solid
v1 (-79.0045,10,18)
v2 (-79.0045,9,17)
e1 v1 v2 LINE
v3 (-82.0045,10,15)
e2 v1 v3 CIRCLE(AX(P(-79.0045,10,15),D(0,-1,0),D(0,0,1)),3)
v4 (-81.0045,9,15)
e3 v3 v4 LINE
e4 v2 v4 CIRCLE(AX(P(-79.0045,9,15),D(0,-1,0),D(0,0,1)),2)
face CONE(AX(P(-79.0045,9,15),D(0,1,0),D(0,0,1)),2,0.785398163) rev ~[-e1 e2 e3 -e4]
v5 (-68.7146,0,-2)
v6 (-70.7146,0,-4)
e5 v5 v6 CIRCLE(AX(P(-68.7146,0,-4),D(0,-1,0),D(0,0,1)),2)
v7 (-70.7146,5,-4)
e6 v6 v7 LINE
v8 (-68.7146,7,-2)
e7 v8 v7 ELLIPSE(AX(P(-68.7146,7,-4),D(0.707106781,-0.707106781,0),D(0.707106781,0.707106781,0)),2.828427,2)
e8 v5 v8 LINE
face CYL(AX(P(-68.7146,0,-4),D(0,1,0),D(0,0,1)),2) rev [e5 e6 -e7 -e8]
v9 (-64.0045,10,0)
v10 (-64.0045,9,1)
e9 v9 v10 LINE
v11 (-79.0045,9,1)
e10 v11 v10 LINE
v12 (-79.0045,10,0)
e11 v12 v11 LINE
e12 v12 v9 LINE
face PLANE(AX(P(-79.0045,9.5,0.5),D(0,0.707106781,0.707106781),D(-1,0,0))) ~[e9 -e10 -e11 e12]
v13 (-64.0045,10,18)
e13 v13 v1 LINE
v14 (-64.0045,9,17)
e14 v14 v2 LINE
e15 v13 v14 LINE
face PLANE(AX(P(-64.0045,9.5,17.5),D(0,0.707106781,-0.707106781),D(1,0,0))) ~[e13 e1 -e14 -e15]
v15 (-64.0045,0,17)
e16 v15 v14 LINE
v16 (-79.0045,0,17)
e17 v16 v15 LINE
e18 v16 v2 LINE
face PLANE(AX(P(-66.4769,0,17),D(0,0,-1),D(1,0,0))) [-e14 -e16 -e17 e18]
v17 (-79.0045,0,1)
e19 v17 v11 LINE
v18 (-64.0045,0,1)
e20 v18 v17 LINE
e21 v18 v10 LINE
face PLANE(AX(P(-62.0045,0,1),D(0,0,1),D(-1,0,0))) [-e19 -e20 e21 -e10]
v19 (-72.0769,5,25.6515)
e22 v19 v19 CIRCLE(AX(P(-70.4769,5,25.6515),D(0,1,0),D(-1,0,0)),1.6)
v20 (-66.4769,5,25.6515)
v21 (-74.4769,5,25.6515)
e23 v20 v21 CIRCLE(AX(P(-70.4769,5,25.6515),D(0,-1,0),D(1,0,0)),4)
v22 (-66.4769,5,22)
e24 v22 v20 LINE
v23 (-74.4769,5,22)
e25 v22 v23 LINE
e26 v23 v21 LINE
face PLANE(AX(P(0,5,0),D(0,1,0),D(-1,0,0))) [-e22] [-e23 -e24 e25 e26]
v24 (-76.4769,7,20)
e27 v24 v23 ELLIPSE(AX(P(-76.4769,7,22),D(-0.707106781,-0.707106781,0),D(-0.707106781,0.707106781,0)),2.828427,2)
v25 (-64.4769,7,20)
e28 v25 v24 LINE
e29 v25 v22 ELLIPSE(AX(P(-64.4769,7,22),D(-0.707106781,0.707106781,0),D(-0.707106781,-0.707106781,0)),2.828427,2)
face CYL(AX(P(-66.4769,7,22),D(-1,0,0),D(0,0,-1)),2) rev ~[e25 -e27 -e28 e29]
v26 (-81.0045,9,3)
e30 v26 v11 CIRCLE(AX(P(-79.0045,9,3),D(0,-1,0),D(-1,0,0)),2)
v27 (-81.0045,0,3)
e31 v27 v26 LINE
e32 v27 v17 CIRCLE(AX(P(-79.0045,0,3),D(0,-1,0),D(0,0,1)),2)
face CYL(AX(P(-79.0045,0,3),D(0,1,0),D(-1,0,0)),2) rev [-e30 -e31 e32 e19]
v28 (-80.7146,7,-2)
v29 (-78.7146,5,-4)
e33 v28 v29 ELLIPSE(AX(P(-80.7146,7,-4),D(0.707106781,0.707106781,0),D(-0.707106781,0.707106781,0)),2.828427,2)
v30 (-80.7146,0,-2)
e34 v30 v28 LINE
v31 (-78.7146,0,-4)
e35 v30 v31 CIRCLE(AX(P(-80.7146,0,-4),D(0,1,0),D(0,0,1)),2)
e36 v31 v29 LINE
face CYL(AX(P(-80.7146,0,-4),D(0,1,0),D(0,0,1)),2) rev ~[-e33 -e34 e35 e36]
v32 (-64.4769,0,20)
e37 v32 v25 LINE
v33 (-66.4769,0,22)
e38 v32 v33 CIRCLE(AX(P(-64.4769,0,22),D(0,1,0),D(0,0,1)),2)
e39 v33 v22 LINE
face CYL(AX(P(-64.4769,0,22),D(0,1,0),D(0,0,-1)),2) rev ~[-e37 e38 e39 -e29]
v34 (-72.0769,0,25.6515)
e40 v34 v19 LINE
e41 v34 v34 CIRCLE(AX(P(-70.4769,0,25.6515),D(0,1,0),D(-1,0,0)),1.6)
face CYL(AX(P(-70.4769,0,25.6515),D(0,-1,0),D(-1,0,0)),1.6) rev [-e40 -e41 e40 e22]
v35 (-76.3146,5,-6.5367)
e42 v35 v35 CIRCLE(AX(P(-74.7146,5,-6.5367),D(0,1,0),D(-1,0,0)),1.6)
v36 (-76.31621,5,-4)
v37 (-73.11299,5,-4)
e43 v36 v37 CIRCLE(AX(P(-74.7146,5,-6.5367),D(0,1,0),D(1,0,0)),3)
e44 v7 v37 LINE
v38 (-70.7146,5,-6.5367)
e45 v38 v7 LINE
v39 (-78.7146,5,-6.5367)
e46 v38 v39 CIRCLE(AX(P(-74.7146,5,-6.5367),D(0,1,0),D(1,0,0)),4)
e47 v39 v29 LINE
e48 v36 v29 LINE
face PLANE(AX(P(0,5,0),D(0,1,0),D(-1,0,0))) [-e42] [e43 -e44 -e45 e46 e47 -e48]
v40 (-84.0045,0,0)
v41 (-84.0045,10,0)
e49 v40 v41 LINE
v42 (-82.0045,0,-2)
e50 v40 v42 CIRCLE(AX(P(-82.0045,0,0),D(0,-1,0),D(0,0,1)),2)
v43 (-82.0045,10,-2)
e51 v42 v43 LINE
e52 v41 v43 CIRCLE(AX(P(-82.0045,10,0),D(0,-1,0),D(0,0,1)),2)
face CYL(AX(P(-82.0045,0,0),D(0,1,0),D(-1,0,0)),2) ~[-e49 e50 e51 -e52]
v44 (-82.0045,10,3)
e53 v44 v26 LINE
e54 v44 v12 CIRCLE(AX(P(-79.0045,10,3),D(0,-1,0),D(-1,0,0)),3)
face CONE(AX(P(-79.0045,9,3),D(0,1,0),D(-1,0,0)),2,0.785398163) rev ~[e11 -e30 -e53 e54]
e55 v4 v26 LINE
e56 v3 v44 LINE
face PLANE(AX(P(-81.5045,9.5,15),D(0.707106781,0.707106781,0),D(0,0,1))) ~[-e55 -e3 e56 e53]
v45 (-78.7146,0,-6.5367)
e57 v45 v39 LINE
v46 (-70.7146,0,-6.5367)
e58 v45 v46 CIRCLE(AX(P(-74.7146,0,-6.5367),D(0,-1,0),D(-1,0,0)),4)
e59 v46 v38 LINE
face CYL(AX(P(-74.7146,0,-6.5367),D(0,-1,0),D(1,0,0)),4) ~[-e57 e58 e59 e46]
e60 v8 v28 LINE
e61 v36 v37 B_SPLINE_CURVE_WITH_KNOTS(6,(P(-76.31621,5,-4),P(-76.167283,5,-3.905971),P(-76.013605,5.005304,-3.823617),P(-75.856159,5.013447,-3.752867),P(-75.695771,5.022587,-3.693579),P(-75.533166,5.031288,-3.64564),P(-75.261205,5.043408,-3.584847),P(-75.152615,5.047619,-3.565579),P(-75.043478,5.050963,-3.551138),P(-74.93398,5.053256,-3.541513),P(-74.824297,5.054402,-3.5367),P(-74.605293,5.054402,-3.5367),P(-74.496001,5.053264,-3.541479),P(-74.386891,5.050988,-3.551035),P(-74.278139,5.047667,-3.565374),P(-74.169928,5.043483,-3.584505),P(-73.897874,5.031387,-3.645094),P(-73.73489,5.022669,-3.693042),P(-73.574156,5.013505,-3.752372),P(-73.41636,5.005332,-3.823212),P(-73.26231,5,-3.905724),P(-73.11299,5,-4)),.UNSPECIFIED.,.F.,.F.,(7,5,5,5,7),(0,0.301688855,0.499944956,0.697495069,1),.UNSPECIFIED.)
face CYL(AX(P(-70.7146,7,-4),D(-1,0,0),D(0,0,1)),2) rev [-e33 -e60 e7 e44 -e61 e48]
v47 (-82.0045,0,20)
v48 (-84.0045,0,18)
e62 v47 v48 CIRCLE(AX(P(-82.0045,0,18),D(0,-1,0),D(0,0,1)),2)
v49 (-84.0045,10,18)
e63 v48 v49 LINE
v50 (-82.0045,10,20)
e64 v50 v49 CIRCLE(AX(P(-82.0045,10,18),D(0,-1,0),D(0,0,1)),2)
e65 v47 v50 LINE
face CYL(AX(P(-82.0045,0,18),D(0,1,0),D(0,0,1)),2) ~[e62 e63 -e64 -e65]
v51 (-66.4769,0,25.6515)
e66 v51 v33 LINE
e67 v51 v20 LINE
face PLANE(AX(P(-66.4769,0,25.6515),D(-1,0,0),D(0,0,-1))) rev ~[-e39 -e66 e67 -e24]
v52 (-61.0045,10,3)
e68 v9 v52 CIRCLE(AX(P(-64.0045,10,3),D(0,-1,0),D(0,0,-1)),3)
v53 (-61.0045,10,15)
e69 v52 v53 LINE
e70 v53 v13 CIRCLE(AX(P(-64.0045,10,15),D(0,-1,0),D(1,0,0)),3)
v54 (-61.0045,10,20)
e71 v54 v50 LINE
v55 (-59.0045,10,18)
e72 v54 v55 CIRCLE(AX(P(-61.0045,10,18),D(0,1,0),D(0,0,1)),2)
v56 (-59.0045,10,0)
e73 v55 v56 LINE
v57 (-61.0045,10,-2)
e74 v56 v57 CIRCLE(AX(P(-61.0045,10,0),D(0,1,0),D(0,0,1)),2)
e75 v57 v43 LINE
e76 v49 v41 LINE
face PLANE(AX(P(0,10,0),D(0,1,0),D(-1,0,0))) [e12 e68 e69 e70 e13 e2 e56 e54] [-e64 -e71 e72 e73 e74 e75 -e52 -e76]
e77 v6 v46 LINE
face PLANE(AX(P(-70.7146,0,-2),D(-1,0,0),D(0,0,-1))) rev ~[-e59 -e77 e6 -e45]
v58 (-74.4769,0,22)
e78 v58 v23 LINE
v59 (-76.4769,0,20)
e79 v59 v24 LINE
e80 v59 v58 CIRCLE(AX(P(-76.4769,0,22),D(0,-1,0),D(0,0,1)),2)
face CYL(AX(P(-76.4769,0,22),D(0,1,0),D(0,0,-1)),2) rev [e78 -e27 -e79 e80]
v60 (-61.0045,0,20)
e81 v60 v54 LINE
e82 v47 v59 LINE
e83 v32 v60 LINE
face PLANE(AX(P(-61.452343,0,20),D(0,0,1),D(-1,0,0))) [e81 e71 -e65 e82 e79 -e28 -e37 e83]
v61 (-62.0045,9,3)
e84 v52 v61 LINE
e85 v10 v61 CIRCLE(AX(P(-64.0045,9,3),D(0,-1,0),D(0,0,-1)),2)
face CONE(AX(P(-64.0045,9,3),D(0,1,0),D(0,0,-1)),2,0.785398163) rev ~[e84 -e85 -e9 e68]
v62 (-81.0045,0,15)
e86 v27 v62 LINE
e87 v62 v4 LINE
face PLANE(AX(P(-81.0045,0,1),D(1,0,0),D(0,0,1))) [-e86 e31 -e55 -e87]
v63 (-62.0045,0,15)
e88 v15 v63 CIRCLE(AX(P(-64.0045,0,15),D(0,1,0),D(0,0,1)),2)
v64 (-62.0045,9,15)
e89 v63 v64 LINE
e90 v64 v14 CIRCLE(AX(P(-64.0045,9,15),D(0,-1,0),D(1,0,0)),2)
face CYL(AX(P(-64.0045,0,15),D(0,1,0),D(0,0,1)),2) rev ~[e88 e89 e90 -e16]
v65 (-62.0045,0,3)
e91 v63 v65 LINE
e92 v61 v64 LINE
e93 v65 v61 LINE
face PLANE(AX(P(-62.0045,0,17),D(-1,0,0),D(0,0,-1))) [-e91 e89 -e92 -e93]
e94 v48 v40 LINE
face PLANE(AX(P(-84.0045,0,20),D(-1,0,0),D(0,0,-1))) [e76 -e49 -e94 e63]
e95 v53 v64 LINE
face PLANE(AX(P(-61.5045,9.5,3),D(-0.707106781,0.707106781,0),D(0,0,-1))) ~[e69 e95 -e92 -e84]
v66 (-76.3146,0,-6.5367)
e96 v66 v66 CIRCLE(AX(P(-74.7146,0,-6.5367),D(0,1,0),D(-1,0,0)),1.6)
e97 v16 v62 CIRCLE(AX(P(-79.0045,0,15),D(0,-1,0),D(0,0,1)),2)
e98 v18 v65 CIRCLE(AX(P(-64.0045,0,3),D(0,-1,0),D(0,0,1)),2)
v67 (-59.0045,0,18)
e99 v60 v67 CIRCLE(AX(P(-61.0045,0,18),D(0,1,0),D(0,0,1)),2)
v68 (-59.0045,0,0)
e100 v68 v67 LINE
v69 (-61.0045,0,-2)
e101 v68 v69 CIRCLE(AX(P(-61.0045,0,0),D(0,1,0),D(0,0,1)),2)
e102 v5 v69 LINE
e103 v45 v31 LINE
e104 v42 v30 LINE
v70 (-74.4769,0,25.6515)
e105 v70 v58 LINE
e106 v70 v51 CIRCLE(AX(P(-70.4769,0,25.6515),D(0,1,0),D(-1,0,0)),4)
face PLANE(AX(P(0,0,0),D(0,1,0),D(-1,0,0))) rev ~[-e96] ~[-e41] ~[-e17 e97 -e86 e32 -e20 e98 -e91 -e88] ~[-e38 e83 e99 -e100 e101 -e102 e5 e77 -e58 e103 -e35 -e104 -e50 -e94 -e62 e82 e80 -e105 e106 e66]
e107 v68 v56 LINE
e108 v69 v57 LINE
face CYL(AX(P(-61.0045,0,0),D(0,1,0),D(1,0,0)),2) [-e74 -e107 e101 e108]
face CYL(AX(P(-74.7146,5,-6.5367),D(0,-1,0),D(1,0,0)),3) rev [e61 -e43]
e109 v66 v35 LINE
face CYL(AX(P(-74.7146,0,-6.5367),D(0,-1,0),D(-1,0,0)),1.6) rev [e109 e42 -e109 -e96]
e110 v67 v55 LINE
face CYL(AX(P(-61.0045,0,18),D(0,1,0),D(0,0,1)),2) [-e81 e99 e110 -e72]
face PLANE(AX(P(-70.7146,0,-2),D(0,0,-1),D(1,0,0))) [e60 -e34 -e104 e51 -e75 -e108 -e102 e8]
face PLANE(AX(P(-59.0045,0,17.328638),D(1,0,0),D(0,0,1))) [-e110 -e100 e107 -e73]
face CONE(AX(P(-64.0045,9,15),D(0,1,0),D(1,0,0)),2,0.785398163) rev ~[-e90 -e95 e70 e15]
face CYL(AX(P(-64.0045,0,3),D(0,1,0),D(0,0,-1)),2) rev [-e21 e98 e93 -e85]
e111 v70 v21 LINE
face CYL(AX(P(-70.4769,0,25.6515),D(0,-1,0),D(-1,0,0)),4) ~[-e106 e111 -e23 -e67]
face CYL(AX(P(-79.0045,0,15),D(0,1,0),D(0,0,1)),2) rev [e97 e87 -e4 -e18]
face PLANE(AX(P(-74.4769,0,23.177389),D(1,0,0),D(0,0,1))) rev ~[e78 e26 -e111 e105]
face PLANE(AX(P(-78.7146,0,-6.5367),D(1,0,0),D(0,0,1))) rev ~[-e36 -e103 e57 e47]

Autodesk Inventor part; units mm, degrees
ref_plane "YZ Plane" through (0, 0, 0) normal (1, 0, 0) x (0, 1, 0)
ref_plane "XZ Plane" through (0, 0, 0) normal (0, 1, 0) x (-1, 0, 0)
ref_plane "XY Plane" through (0, 0, 0) normal (0, 0, 1) x (1, 0, 0)
sketch "Skizze1" plane through (0, 0, 0) normal (0, 1, 0) x (-1, 0, 0)
  line L0 (19.0016, 59.2215) -> (57.3401, 24.0908)
  arc A0 (57.3401, 24.0908) -> (69.3003, 22.9246) centre (64.096, 31.4636) ccw
  arc A1 (75.2406, 20.5635) -> (69.3003, 22.9246) centre (71.3821, 19.509) ccw
  arc A2 (77.999, -0.3892) -> (75.2406, 20.5635) centre (0, 0) ccw
  arc A3 (72.8723, -4.2072) -> (77.999, -0.3892) centre (73.9991, -0.3692) ccw
  arc A4 (72.8723, -4.2072) -> (61.6214, -8.4293) centre (70.0553, -13.8022) ccw
  line L1 (61.6214, -8.4293) -> (37.5911, -46.1492)
  arc A5 (34.2176, -48) -> (37.5911, -46.1492) centre (34.2176, -44) ccw
  line L2 (34.2176, -48) -> (29, -48)
  arc A6 (29, -48) -> (25.0078, -51.75) centre (29, -52) ccw
  arc A7 (21.0156, -55.5) -> (25.0078, -51.75) centre (21.0156, -51.5) ccw
  line L3 (21.0156, -55.5) -> (-21.0156, -55.5)
  circle A8 centre (36.75, -68) radius 1.8
  circle A9 centre (36.75, -61) radius 1.8
  circle A10 centre (36.75, -54) radius 1.8
  line L4 (30.1812, 62.5407) -> (59.6723, 35.5171)
  arc A11 (59.6723, 35.5171) -> (68.1495, 35.8873) centre (63.7258, 39.9408) ccw
  line L5 (68.1495, 35.8873) -> (74.1043, 42.3858)
  arc A12 (77.3365, 41.9889) -> (74.1043, 42.3858) centre (75.5788, 41.0346) ccw
  arc A13 (85.5688, -20.542) -> (77.3365, 41.9889) centre (0, 0) ccw
  arc A14 (82.5495, -21.7619) -> (85.5688, -20.542) centre (83.6241, -20.0751) ccw
  line L6 (82.5495, -21.7619) -> (75.1157, -17.026)
  arc A15 (75.1157, -17.026) -> (66.8315, -18.8626) centre (71.8919, -22.0864) ccw
  line L7 (66.8315, -18.8626) -> (45.3395, -52.5983)
  arc A16 (45.3395, -52.5983) -> (47.1761, -60.8824) centre (50.3999, -55.8221) ccw
  line L8 (47.1761, -60.8824) -> (54.6099, -65.6183)
  arc A17 (54.7803, -68.8703) -> (54.6099, -65.6183) centre (53.5353, -67.3051) ccw
  arc A18 (44.8368, -75.7209) -> (54.7803, -68.8703) centre (0, 0) ccw
  arc A19 (43.8178, -76) -> (44.8368, -75.7209) centre (43.8178, -74) ccw
  line L9 (43.8178, -76) -> (35.75, -76)
  arc A20 (33.75, -74) -> (35.75, -76) centre (35.75, -74) ccw
  line L10 (33.75, -74) -> (33.75, -64)
  arc A21 (33.75, -64) -> (30.0179, -63) centre (31.75, -64) ccw
  arc A22 (28.2859, -64) -> (30.0179, -63) centre (28.2859, -62) ccw
  line L11 (28.2859, -64) -> (14.7321, -64)
  circle A23 centre (49.9686, 39.6617) radius 1.8
  circle A24 centre (55.4982, 34.5948) radius 1.8
  circle A25 centre (58.5312, -25.3775) radius 1.8
  circle A26 centre (54.5014, -31.7029) radius 1.8
  circle A27 centre (62.5609, -19.052) radius 1.8
  line L12 (37.1695, -45.8805) -> (61.1997, -8.1606)
  arc A28 (73.0131, -3.7275) -> (61.1997, -8.1606) centre (70.0553, -13.8022) ccw
  arc A29 (73.0131, -3.7275) -> (77.499, -0.3867) centre (73.9991, -0.3692) ccw
  arc A30 (77.499, -0.3867) -> (74.7582, 20.4317) centre (0, 0) ccw
  arc A31 (74.7582, 20.4317) -> (69.5605, 22.4976) centre (71.3821, 19.509) ccw
  arc A32 (57.0023, 23.7222) -> (69.5605, 22.4976) centre (64.096, 31.4636) ccw
  line L13 (57.0023, 23.7222) -> (18.6638, 58.8529)
  line L14 (-21.0156, -55) -> (21.0156, -55)
  arc A33 (21.0156, -55) -> (24.5088, -51.7188) centre (21.0156, -51.5) ccw
  arc A34 (29, -47.5) -> (24.5088, -51.7188) centre (29, -52) ccw
  line L15 (29, -47.5) -> (34.2176, -47.5)
  arc A35 (34.2176, -47.5) -> (37.1695, -45.8805) centre (34.2176, -44) ccw
  line L16 (47.604, 37.0813) -> (31.5682, 51.7754)
  line L17 (31.5682, 51.7754) -> (63.6398, 22.3872)
  line L18 (63.6398, 22.3872) -> (50.128, 7.6416)
  line L19 (47.3023, 7.5183) -> (18.1798, 34.2041)
  line L20 (18.0564, 37.0298) -> (31.5682, 51.7754)
  line L21 (58.5312, -25.3775) -> (55.5793, -23.4969)
  line L22 (55.5793, -23.4969) -> (67.2656, -5.1532)
  line L23 (67.2656, -5.1532) -> (43.893, -41.8407)
  line L24 (43.893, -41.8407) -> (27.0252, -31.0947)
  line L25 (26.413, -28.3333) -> (47.6364, 4.9806)
  line L26 (50.3977, 5.5928) -> (67.2656, -5.1532)
  arc A36 (50.3977, 5.5928) -> (47.6364, 4.9806) centre (49.3231, 3.906) ccw
  arc A37 (47.3023, 7.5183) -> (50.128, 7.6416) centre (48.6535, 8.9928) ccw
  arc A38 (26.413, -28.3333) -> (27.0252, -31.0947) centre (28.0998, -29.4079) ccw
  line L27 (81.0045, 17) -> (62.0045, 17)
  line L28 (62.0045, 17) -> (62.0045, 1)
  line L29 (62.0045, 1) -> (81.0045, 1)
  line L30 (81.0045, 1) -> (81.0045, 17)
  line L31 (81.0045, 17) -> (62.0045, 1) construction
  line L32 (62.0045, 17) -> (81.0045, 1) construction
  arc A39 (-37.5911, -46.1492) -> (-34.2176, -48) centre (-34.2176, -44) ccw
  line L33 (-37.5911, -46.1492) -> (-61.6214, -8.4293)
  arc A40 (-61.6214, -8.4293) -> (-72.8723, -4.2072) centre (-70.0553, -13.8022) ccw
  arc A41 (-77.999, -0.3892) -> (-72.8723, -4.2072) centre (-73.9991, -0.3692) ccw
  arc A42 (-75.2406, 20.5635) -> (-77.999, -0.3892) centre (0, 0) ccw
  arc A43 (-69.3003, 22.9246) -> (-75.2406, 20.5635) centre (-71.3821, 19.509) ccw
  arc A44 (-69.3003, 22.9246) -> (-57.3401, 24.0908) centre (-64.096, 31.4636) ccw
  line L34 (-57.3401, 24.0908) -> (-19.0016, 59.2215)
  arc A45 (-19.0016, 59.2215) -> (-16.7974, 71.0346) centre (-25.7575, 66.5943) ccw
  arc A46 (-13.9276, 76.7465) -> (-16.7974, 71.0346) centre (-13.2134, 72.8108) ccw
  arc A47 (13.9276, 76.7465) -> (-13.9276, 76.7465) centre (0, 0) ccw
  arc A48 (16.7974, 71.0346) -> (13.9276, 76.7465) centre (13.2134, 72.8108) ccw
  arc A49 (16.7974, 71.0346) -> (19.0016, 59.2215) centre (25.7575, 66.5943) ccw
  line L35 (19.0016, 59.2215) -> (57.3401, 24.0908)
  arc A50 (57.3401, 24.0908) -> (69.3003, 22.9246) centre (64.096, 31.4636) ccw
  arc A51 (75.2406, 20.5635) -> (69.3003, 22.9246) centre (71.3821, 19.509) ccw
  arc A52 (77.999, -0.3892) -> (75.2406, 20.5635) centre (0, 0) ccw
  arc A53 (72.8723, -4.2072) -> (77.999, -0.3892) centre (73.9991, -0.3692) ccw
  arc A54 (72.8723, -4.2072) -> (61.6214, -8.4293) centre (70.0553, -13.8022) ccw
  line L36 (61.6214, -8.4293) -> (37.5911, -46.1492)
  arc A55 (34.2176, -48) -> (37.5911, -46.1492) centre (34.2176, -44) ccw
  line L37 (34.2176, -48) -> (29, -48)
  arc A56 (29, -48) -> (25.0078, -51.75) centre (29, -52) ccw
  arc A57 (21.0156, -55.5) -> (25.0078, -51.75) centre (21.0156, -51.5) ccw
  line L38 (21.0156, -55.5) -> (-21.0156, -55.5)
  arc A58 (-25.0078, -51.75) -> (-21.0156, -55.5) centre (-21.0156, -51.5) ccw
  arc A59 (-25.0078, -51.75) -> (-29, -48) centre (-29, -52) ccw
  line L39 (-29, -48) -> (-34.2176, -48)
  circle A60 centre (-24.9586, 79.1585) radius 2.8
  circle A61 centre (-76.682, 31.7627) radius 2.8
  circle A62 centre (-82.2899, -10.8337) radius 2.8
  circle A63 centre (-36.75, -68) radius 1.8
  circle A64 centre (-36.75, -61) radius 1.8
  circle A65 centre (-36.75, -54) radius 1.8
  circle A66 centre (-49.9686, 39.6617) radius 1.8
  circle A67 centre (-55.4982, 34.5948) radius 1.8
  circle A68 centre (-44.439, 44.7287) radius 1.8
  circle A69 centre (-62.5609, -19.052) radius 1.8
  circle A70 centre (-54.5014, -31.7029) radius 1.8
  circle A71 centre (-58.5312, -25.3775) radius 1.8
  circle A72 centre (36.75, -68) radius 1.8
  circle A73 centre (36.75, -61) radius 1.8
  circle A74 centre (36.75, -54) radius 1.8
  circle A75 centre (82.2899, -10.8337) radius 2.8
  circle A76 centre (76.682, 31.7627) radius 2.8
  circle A77 centre (24.9586, 79.1585) radius 2.8
  arc A78 (29.8111, 71.018) -> (30.1812, 62.5407) centre (34.2347, 66.9644) ccw
  line L40 (30.1812, 62.5407) -> (59.6723, 35.5171)
  arc A79 (59.6723, 35.5171) -> (68.1495, 35.8873) centre (63.7258, 39.9408) ccw
  line L41 (68.1495, 35.8873) -> (74.1043, 42.3858)
  arc A80 (77.3365, 41.9889) -> (74.1043, 42.3858) centre (75.5788, 41.0346) ccw
  arc A81 (85.5688, -20.542) -> (77.3365, 41.9889) centre (0, 0) ccw
  arc A82 (82.5495, -21.7619) -> (85.5688, -20.542) centre (83.6241, -20.0751) ccw
  line L42 (82.5495, -21.7619) -> (75.1157, -17.026)
  arc A83 (75.1157, -17.026) -> (66.8315, -18.8626) centre (71.8919, -22.0864) ccw
  line L43 (66.8315, -18.8626) -> (45.3395, -52.5983)
  arc A84 (45.3395, -52.5983) -> (47.1761, -60.8824) centre (50.3999, -55.8221) ccw
  line L44 (47.1761, -60.8824) -> (54.6099, -65.6183)
  arc A85 (54.7803, -68.8703) -> (54.6099, -65.6183) centre (53.5353, -67.3051) ccw
  arc A86 (44.8368, -75.7209) -> (54.7803, -68.8703) centre (0, 0) ccw
  arc A87 (43.8178, -76) -> (44.8368, -75.7209) centre (43.8178, -74) ccw
  line L45 (43.8178, -76) -> (35.75, -76)
  arc A88 (33.75, -74) -> (35.75, -76) centre (35.75, -74) ccw
  line L46 (33.75, -74) -> (33.75, -64)
  arc A89 (33.75, -64) -> (30.0179, -63) centre (31.75, -64) ccw
  arc A90 (28.2859, -64) -> (30.0179, -63) centre (28.2859, -62) ccw
  line L47 (28.2859, -64) -> (14.7321, -64)
  arc A91 (13, -63) -> (14.7321, -64) centre (14.7321, -62) ccw
  line L48 (-14.7321, -64) -> (-28.2859, -64)
  arc A92 (-30.0179, -63) -> (-28.2859, -64) centre (-28.2859, -62) ccw
  arc A93 (-30.0179, -63) -> (-33.75, -64) centre (-31.75, -64) ccw
  line L49 (-33.75, -64) -> (-33.75, -74)
  arc A94 (-35.75, -76) -> (-33.75, -74) centre (-35.75, -74) ccw
  line L50 (-35.75, -76) -> (-43.8178, -76)
  arc A95 (-44.8368, -75.7209) -> (-43.8178, -76) centre (-43.8178, -74) ccw
  arc A96 (-54.7803, -68.8703) -> (-44.8368, -75.7209) centre (0, 0) ccw
  arc A97 (-54.6099, -65.6183) -> (-54.7803, -68.8703) centre (-53.5353, -67.3051) ccw
  line L51 (-54.6099, -65.6183) -> (-47.1761, -60.8824)
  arc A98 (-47.1761, -60.8824) -> (-45.3395, -52.5983) centre (-50.3999, -55.8221) ccw
  line L52 (-45.3395, -52.5983) -> (-66.8315, -18.8626)
  arc A99 (-66.8315, -18.8626) -> (-75.1157, -17.026) centre (-71.8919, -22.0864) ccw
  line L53 (-75.1157, -17.026) -> (-82.5495, -21.7619)
  arc A100 (-85.5688, -20.542) -> (-82.5495, -21.7619) centre (-83.6241, -20.0751) ccw
  arc A101 (-77.3365, 41.9889) -> (-85.5688, -20.542) centre (0, 0) ccw
  arc A102 (-74.1043, 42.3858) -> (-77.3365, 41.9889) centre (-75.5788, 41.0346) ccw
  line L54 (-74.1043, 42.3858) -> (-68.1495, 35.8873)
  arc A103 (-68.1495, 35.8873) -> (-59.6723, 35.5171) centre (-63.7258, 39.9408) ccw
  line L55 (-59.6723, 35.5171) -> (-30.1812, 62.5407)
  arc A104 (-30.1812, 62.5407) -> (-29.8111, 71.018) centre (-34.2347, 66.9644) ccw
  line L56 (-29.8111, 71.018) -> (-35.7659, 77.5165)
  arc A105 (-35.0888, 80.7018) -> (-35.7659, 77.5165) centre (-34.2913, 78.8676) ccw
  arc A106 (35.0888, 80.7018) -> (-35.0888, 80.7018) centre (0, 0) ccw
  arc A107 (35.7659, 77.5165) -> (35.0888, 80.7018) centre (34.2913, 78.8676) ccw
  line L57 (35.7659, 77.5165) -> (29.8111, 71.018)
  circle A108 centre (49.9686, 39.6617) radius 1.8
  circle A109 centre (55.4982, 34.5948) radius 1.8
  circle A110 centre (58.5312, -25.3775) radius 1.8
  circle A111 centre (54.5014, -31.7029) radius 1.8
  circle A112 centre (44.439, 44.7287) radius 1.8
  circle A113 centre (62.5609, -19.052) radius 1.8
  line L58 (37.1695, -45.8805) -> (61.1997, -8.1606)
  arc A114 (73.0131, -3.7275) -> (61.1997, -8.1606) centre (70.0553, -13.8022) ccw
  arc A115 (73.0131, -3.7275) -> (77.499, -0.3867) centre (73.9991, -0.3692) ccw
  arc A116 (77.499, -0.3867) -> (74.7582, 20.4317) centre (0, 0) ccw
  arc A117 (74.7582, 20.4317) -> (69.5605, 22.4976) centre (71.3821, 19.509) ccw
  arc A118 (57.0023, 23.7222) -> (69.5605, 22.4976) centre (64.096, 31.4636) ccw
  line L59 (57.0023, 23.7222) -> (18.6638, 58.8529)
  arc A119 (16.3494, 71.2566) -> (18.6638, 58.8529) centre (25.7575, 66.5943) ccw
  arc A120 (16.3494, 71.2566) -> (13.8384, 76.2545) centre (13.2134, 72.8108) ccw
  arc A121 (13.8384, 76.2545) -> (-13.8384, 76.2545) centre (0, 0) ccw
  arc A122 (-13.8384, 76.2545) -> (-16.3494, 71.2566) centre (-13.2134, 72.8108) ccw
  arc A123 (-18.6638, 58.8529) -> (-16.3494, 71.2566) centre (-25.7575, 66.5943) ccw
  line L60 (-18.6638, 58.8529) -> (-57.0023, 23.7222)
  arc A124 (-69.5605, 22.4976) -> (-57.0023, 23.7222) centre (-64.096, 31.4636) ccw
  arc A125 (-69.5605, 22.4976) -> (-74.7582, 20.4317) centre (-71.3821, 19.509) ccw
  arc A126 (-74.7582, 20.4317) -> (-77.499, -0.3867) centre (0, 0) ccw
  arc A127 (-77.499, -0.3867) -> (-73.0131, -3.7275) centre (-73.9991, -0.3692) ccw
  arc A128 (-61.1997, -8.1606) -> (-73.0131, -3.7275) centre (-70.0553, -13.8022) ccw
  line L61 (-61.1997, -8.1606) -> (-37.1695, -45.8805)
  arc A129 (-37.1695, -45.8805) -> (-34.2176, -47.5) centre (-34.2176, -44) ccw
  line L62 (-34.2176, -47.5) -> (-29, -47.5)
  arc A130 (-24.5088, -51.7188) -> (-29, -47.5) centre (-29, -52) ccw
  arc A131 (-24.5088, -51.7188) -> (-21.0156, -55) centre (-21.0156, -51.5) ccw
  line L63 (-21.0156, -55) -> (21.0156, -55)
  arc A132 (21.0156, -55) -> (24.5088, -51.7188) centre (21.0156, -51.5) ccw
  arc A133 (29, -47.5) -> (24.5088, -51.7188) centre (29, -52) ccw
  line L64 (29, -47.5) -> (34.2176, -47.5)
  arc A134 (34.2176, -47.5) -> (37.1695, -45.8805) centre (34.2176, -44) ccw
  circle A135 centre (16, 9) radius 2.1
  line L65 (-19, -53) -> (-19, 12)
  circle A136 centre (4, 47) radius 1.621
  circle A137 centre (-4, 47) radius 1.621
  arc A138 (7, 49.9161) -> (10.3333, 45.972) centre (11, 49.9161) ccw
  arc A139 (12, 44) -> (10.3333, 45.972) centre (10, 44) ccw
  line L66 (12, 44) -> (12, -5)
  line L67 (12, -5) -> (10, -5)
  arc A140 (8, -3) -> (10, -5) centre (10, -3) ccw
  line L68 (8, -3) -> (8, 1)
  arc A141 (8, 1) -> (6, 3) centre (6, 1) ccw
  line L69 (6, 3) -> (-6, 3)
  arc A142 (-6, 3) -> (-8, 1) centre (-6, 1) ccw
  line L70 (-8, 1) -> (-8, -3)
  arc A143 (-10, -5) -> (-8, -3) centre (-10, -3) ccw
  line L71 (-10, -5) -> (-12, -5)
  line L72 (-12, -5) -> (-12, 44)
  arc A144 (-10.3333, 45.972) -> (-12, 44) centre (-10, 44) ccw
  arc A145 (-10.3333, 45.972) -> (-7, 49.9161) centre (-11, 49.9161) ccw
  line L73 (-7, 49.9161) -> (-7, 54)
  arc A146 (-5, 56) -> (-7, 54) centre (-5, 54) ccw
  line L74 (-5, 56) -> (5, 56)
  arc A147 (7, 54) -> (5, 56) centre (5, 54) ccw
  line L75 (7, 54) -> (7, 49.9161)
  line L76 (-13, -63) -> (13, -63) construction
  line L77 (0, -63) -> (0, 88) construction
  arc A148 (35.0888, 80.7018) -> (-35.0888, 80.7018) centre (0, 0) ccw construction
  line L78 (0, 0) -> (88, 0) construction
  arc A149 (85.5688, -20.542) -> (77.3365, 41.9889) centre (0, 0) ccw construction
  circle A150 centre (0, 0) radius 75 construction
  line L79 (0, 0) -> (70.4769, 25.6515) construction
  line L80 (0, 0) -> (74.7146, -6.5367) construction
  circle A151 centre (0, 0) radius 78
  circle A152 centre (70.4769, 25.6515) radius 3
  circle A153 centre (74.7146, -6.5367) radius 3
  circle A154 centre (0, 0) radius 72
  arc A155 (29, -48) -> (25.0078, -51.75) centre (29, -52) ccw construction
  circle A156 centre (29, -52) radius 3.5
  line L81 (34.2176, -48) -> (29, -48) construction
  line L82 (29, -55.5) -> (21.0156, -55.5)
  circle A157 centre (29, -52) radius 4
  line L83 (32.5, -48) -> (29, -48)
  arc A158 (21.0156, -55.5) -> (25.0078, -51.75) centre (21.0156, -51.5) ccw
  arc A159 (21.0156, -55.5) -> (25.0078, -51.75) centre (21.0156, -51.5) ccw
  line L84 (32.5, -52) -> (32.5, -48)
  circle A160 centre (74.7146, -6.5367) radius 1.6
  circle A161 centre (70.4769, 25.6515) radius 1.6
  circle A162 centre (29, -52) radius 1.6
  line L85 (0, -55.5) -> (0, 88)
  line L86 (84.0045, -2) -> (59.0045, -2)
  line L87 (59.0045, -2) -> (59.0045, 20)
  line L88 (59.0045, 20) -> (84.0045, 20)
  line L89 (84.0045, 20) -> (84.0045, -2)
  circle A163 centre (82.2899, -10.8337) radius 4
  line L90 (74.7146, -6.5367) -> (74.7146, 9.8771) construction
  line L91 (78.7146, -6.5367) -> (78.7146, 9.8771)
  line L92 (70.7146, 9.8771) -> (70.7146, -6.5367)
  arc A164 (70.7146, -6.5367) -> (78.7146, -6.5367) centre (74.7146, -6.5367) ccw
  arc A165 (78.7146, 9.8771) -> (70.7146, 9.8771) centre (74.7146, 9.8771) ccw
  line L93 (70.4769, 25.6515) -> (70.4769, 13.0481) construction
  line L94 (66.4769, 25.6515) -> (66.4769, 13.0481)
  line L95 (74.4769, 13.0481) -> (74.4769, 25.6515)
  arc A166 (74.4769, 25.6515) -> (66.4769, 25.6515) centre (70.4769, 25.6515) ccw
  arc A167 (66.4769, 13.0481) -> (74.4769, 13.0481) centre (70.4769, 13.0481) ccw
  point P0 (0, 0)
  point P1 (0, 0)
  point P2 (216.3011, -305.5849)
  point P3 (183.0204, -305.5849)
  point P4 (184.3011, -305.5849)
  point P5 (215.0204, -305.5849)
  point P6 (48.7768, 6.1671)
  point P7 (25.3384, -30.0201)
  point P8 (0, 0)
  point P9 (0, 0)
  point P10 (357.611, -164.2236)
  point P11 (324.3303, -164.2236)
  point P12 (325.611, -164.2236)
  point P13 (356.3303, -164.2236)
  point P14 (0, -5)
  point P15 (0, 56)
  point P16 (496.1935, -138.8477)
  point P17 (490.2163, -138.3247)
  point P18 (494.6235, -171.8005)
  point P19 (500.2617, -169.7483)
  point P20 (538.9195, -97.1229)
  point P21 (542.9117, -93.3729)
  point P22 (414.2667, -82.5461)
  point P23 (408.6285, -84.5982)
  point P24 (409.3834, -86.7803)
  point P25 (361.9863, -164.7236)
  point P26 (373.4707, -157.2236)
  point P27 (412.861, -113.1957)
  point P28 (412.6967, -115.4989)
  point P29 (418.6738, -116.0218)
  point P30 (418.9697, -109.6128)
  point P31 (416.2112, -88.6601)
  point P32 (340.9707, -31.2236)
  point P33 (340.9707, -53.2236)
  point P34 (340.9707, -97.2236)
  point P35 (340.9707, -100.2236)
  point P36 (340.9707, -164.7236)
  point P37 (74.7146, 1.6702)
  point P38 (70.4769, 19.3498)
  point P39 (70.7146, -2)
  point P40 (78.7146, -2)
  point P41 (66.4769, 20)
  point P42 (74.4769, 20)
  dimension "d0" = 0.5
  dimension "d1" = 43.5
  dimension "d2" = 22
  dimension "d3" = 3.5
  dimension "d4" = 21.75
  dimension "d5" = 43.5
  dimension "d6" = 22
  dimension "d7" = 2
  dimension "d8" = 19
  dimension "d9" = 16
  dimension "d10" = 1
  dimension "d11" = 0.5
  dimension "d20" = 4.2
  dimension "d23" = 65
  dimension "d26" = 150
  dimension "d27" = 20
  dimension "d28" = 5
  dimension "d29" = 156
  dimension "d30" = 6
  dimension "d31" = 6
  dimension "d32" = 7
  dimension "d33" = 4
  dimension "d34" = 3.2
  dimension "d35" = 3.2
  dimension "d36" = 3.2
  dimension "d37" = 3
  dimension "d38" = 8
  dimension "d39" = 8
  dimension "d40" = 8
extrude "Extrusion1" add sketch "Skizze1" along normal blind 10 contours L88 L94 L27 L28 L29 L92 L86 L26 L87 L18 | L18 L87 L88 | L88 A154 L27 L94 | L88 L95 L27 A154 | L26 L86 L87 | L88 A30 L27 L95 | L88 A2 L27 A30 | L92 L29 A154 L86 | L88 L89 L86 L91 L29 L30 L27 A2 | A154 L29 A30 A29 L86 | A29 A30 L29 A2 A3 L86 | A3 A151 L86 | L29 L91 L86 A151 A2
extrude "Extrusion2" add sketch "Skizze1" along normal blind 5 contours L94 A166 A154 A0 | A0 A154 A32 L94 | A166 A151 A152 A154 | A154 A152 A0 | A0 A152 A31 A32 A154 | A32 A154 L88 L94 | A152 A1 A0 | A166 L95 A151 | A0 A1 A152 A31 | A32 A31 A152 L95 L88 A154 | A151 L95 A1 A152 | A31 A152 | A1 L95 A31 A152 | L86 A154 A28 L92 | A28 A154 A4 L92 | L86 A29 A153 A28 A154 | A28 A29 A153 A4 A154 | A4 A154 A164 L92 | L86 A3 A153 A29 | A164 A154 A153 A151 | A151 L86 L91 A164 | A4 A153 A154 | A153 A3 A4 A29 | A29 A153 | L86 A151 A153 A3 | A153 A4 A3
fillet "Rundung1" radius 2 6 edges at (-70.4769, 5, 20) (-66.4769, 2.5, 20) (-74.4769, 2.5, 20) (-70.7146, 2.5, -2) (-74.7146, 5, -2) (-78.7146, 2.5, -2)
fillet "Rundung2" radius 2 8 edges at (-59.0045, 5, 20) (-59.0045, 5, -2) (-84.0045, 5, 20) (-84.0045, 5, -2) (-81.0045, 5, 1) (-81.0045, 5, 17) (-62.0045, 5, 1) (-62.0045, 5, 17)
chamfer "Fasen1" distance 1 angle 45 4 edges at (-71.5045, 10, 1) (-62.0045, 10, 9) (-71.5045, 10, 17) (-81.0045, 10, 9)
sketch "Skizze2" plane through (0, 5, 0) normal (0, 1, 0) x (1, 0, 0)
  circle A0 centre (-74.7146, 6.5367) radius 1.6 projected
  circle A1 centre (-74.7146, 6.5367) radius 3
  point P0 (0, 0)
  dimension "d50" = 6
extrude "Extrusion3" cut sketch "Skizze2" along normal blind 10 contours A0 | A1
properties part number "SchussAkkuHalterung"
